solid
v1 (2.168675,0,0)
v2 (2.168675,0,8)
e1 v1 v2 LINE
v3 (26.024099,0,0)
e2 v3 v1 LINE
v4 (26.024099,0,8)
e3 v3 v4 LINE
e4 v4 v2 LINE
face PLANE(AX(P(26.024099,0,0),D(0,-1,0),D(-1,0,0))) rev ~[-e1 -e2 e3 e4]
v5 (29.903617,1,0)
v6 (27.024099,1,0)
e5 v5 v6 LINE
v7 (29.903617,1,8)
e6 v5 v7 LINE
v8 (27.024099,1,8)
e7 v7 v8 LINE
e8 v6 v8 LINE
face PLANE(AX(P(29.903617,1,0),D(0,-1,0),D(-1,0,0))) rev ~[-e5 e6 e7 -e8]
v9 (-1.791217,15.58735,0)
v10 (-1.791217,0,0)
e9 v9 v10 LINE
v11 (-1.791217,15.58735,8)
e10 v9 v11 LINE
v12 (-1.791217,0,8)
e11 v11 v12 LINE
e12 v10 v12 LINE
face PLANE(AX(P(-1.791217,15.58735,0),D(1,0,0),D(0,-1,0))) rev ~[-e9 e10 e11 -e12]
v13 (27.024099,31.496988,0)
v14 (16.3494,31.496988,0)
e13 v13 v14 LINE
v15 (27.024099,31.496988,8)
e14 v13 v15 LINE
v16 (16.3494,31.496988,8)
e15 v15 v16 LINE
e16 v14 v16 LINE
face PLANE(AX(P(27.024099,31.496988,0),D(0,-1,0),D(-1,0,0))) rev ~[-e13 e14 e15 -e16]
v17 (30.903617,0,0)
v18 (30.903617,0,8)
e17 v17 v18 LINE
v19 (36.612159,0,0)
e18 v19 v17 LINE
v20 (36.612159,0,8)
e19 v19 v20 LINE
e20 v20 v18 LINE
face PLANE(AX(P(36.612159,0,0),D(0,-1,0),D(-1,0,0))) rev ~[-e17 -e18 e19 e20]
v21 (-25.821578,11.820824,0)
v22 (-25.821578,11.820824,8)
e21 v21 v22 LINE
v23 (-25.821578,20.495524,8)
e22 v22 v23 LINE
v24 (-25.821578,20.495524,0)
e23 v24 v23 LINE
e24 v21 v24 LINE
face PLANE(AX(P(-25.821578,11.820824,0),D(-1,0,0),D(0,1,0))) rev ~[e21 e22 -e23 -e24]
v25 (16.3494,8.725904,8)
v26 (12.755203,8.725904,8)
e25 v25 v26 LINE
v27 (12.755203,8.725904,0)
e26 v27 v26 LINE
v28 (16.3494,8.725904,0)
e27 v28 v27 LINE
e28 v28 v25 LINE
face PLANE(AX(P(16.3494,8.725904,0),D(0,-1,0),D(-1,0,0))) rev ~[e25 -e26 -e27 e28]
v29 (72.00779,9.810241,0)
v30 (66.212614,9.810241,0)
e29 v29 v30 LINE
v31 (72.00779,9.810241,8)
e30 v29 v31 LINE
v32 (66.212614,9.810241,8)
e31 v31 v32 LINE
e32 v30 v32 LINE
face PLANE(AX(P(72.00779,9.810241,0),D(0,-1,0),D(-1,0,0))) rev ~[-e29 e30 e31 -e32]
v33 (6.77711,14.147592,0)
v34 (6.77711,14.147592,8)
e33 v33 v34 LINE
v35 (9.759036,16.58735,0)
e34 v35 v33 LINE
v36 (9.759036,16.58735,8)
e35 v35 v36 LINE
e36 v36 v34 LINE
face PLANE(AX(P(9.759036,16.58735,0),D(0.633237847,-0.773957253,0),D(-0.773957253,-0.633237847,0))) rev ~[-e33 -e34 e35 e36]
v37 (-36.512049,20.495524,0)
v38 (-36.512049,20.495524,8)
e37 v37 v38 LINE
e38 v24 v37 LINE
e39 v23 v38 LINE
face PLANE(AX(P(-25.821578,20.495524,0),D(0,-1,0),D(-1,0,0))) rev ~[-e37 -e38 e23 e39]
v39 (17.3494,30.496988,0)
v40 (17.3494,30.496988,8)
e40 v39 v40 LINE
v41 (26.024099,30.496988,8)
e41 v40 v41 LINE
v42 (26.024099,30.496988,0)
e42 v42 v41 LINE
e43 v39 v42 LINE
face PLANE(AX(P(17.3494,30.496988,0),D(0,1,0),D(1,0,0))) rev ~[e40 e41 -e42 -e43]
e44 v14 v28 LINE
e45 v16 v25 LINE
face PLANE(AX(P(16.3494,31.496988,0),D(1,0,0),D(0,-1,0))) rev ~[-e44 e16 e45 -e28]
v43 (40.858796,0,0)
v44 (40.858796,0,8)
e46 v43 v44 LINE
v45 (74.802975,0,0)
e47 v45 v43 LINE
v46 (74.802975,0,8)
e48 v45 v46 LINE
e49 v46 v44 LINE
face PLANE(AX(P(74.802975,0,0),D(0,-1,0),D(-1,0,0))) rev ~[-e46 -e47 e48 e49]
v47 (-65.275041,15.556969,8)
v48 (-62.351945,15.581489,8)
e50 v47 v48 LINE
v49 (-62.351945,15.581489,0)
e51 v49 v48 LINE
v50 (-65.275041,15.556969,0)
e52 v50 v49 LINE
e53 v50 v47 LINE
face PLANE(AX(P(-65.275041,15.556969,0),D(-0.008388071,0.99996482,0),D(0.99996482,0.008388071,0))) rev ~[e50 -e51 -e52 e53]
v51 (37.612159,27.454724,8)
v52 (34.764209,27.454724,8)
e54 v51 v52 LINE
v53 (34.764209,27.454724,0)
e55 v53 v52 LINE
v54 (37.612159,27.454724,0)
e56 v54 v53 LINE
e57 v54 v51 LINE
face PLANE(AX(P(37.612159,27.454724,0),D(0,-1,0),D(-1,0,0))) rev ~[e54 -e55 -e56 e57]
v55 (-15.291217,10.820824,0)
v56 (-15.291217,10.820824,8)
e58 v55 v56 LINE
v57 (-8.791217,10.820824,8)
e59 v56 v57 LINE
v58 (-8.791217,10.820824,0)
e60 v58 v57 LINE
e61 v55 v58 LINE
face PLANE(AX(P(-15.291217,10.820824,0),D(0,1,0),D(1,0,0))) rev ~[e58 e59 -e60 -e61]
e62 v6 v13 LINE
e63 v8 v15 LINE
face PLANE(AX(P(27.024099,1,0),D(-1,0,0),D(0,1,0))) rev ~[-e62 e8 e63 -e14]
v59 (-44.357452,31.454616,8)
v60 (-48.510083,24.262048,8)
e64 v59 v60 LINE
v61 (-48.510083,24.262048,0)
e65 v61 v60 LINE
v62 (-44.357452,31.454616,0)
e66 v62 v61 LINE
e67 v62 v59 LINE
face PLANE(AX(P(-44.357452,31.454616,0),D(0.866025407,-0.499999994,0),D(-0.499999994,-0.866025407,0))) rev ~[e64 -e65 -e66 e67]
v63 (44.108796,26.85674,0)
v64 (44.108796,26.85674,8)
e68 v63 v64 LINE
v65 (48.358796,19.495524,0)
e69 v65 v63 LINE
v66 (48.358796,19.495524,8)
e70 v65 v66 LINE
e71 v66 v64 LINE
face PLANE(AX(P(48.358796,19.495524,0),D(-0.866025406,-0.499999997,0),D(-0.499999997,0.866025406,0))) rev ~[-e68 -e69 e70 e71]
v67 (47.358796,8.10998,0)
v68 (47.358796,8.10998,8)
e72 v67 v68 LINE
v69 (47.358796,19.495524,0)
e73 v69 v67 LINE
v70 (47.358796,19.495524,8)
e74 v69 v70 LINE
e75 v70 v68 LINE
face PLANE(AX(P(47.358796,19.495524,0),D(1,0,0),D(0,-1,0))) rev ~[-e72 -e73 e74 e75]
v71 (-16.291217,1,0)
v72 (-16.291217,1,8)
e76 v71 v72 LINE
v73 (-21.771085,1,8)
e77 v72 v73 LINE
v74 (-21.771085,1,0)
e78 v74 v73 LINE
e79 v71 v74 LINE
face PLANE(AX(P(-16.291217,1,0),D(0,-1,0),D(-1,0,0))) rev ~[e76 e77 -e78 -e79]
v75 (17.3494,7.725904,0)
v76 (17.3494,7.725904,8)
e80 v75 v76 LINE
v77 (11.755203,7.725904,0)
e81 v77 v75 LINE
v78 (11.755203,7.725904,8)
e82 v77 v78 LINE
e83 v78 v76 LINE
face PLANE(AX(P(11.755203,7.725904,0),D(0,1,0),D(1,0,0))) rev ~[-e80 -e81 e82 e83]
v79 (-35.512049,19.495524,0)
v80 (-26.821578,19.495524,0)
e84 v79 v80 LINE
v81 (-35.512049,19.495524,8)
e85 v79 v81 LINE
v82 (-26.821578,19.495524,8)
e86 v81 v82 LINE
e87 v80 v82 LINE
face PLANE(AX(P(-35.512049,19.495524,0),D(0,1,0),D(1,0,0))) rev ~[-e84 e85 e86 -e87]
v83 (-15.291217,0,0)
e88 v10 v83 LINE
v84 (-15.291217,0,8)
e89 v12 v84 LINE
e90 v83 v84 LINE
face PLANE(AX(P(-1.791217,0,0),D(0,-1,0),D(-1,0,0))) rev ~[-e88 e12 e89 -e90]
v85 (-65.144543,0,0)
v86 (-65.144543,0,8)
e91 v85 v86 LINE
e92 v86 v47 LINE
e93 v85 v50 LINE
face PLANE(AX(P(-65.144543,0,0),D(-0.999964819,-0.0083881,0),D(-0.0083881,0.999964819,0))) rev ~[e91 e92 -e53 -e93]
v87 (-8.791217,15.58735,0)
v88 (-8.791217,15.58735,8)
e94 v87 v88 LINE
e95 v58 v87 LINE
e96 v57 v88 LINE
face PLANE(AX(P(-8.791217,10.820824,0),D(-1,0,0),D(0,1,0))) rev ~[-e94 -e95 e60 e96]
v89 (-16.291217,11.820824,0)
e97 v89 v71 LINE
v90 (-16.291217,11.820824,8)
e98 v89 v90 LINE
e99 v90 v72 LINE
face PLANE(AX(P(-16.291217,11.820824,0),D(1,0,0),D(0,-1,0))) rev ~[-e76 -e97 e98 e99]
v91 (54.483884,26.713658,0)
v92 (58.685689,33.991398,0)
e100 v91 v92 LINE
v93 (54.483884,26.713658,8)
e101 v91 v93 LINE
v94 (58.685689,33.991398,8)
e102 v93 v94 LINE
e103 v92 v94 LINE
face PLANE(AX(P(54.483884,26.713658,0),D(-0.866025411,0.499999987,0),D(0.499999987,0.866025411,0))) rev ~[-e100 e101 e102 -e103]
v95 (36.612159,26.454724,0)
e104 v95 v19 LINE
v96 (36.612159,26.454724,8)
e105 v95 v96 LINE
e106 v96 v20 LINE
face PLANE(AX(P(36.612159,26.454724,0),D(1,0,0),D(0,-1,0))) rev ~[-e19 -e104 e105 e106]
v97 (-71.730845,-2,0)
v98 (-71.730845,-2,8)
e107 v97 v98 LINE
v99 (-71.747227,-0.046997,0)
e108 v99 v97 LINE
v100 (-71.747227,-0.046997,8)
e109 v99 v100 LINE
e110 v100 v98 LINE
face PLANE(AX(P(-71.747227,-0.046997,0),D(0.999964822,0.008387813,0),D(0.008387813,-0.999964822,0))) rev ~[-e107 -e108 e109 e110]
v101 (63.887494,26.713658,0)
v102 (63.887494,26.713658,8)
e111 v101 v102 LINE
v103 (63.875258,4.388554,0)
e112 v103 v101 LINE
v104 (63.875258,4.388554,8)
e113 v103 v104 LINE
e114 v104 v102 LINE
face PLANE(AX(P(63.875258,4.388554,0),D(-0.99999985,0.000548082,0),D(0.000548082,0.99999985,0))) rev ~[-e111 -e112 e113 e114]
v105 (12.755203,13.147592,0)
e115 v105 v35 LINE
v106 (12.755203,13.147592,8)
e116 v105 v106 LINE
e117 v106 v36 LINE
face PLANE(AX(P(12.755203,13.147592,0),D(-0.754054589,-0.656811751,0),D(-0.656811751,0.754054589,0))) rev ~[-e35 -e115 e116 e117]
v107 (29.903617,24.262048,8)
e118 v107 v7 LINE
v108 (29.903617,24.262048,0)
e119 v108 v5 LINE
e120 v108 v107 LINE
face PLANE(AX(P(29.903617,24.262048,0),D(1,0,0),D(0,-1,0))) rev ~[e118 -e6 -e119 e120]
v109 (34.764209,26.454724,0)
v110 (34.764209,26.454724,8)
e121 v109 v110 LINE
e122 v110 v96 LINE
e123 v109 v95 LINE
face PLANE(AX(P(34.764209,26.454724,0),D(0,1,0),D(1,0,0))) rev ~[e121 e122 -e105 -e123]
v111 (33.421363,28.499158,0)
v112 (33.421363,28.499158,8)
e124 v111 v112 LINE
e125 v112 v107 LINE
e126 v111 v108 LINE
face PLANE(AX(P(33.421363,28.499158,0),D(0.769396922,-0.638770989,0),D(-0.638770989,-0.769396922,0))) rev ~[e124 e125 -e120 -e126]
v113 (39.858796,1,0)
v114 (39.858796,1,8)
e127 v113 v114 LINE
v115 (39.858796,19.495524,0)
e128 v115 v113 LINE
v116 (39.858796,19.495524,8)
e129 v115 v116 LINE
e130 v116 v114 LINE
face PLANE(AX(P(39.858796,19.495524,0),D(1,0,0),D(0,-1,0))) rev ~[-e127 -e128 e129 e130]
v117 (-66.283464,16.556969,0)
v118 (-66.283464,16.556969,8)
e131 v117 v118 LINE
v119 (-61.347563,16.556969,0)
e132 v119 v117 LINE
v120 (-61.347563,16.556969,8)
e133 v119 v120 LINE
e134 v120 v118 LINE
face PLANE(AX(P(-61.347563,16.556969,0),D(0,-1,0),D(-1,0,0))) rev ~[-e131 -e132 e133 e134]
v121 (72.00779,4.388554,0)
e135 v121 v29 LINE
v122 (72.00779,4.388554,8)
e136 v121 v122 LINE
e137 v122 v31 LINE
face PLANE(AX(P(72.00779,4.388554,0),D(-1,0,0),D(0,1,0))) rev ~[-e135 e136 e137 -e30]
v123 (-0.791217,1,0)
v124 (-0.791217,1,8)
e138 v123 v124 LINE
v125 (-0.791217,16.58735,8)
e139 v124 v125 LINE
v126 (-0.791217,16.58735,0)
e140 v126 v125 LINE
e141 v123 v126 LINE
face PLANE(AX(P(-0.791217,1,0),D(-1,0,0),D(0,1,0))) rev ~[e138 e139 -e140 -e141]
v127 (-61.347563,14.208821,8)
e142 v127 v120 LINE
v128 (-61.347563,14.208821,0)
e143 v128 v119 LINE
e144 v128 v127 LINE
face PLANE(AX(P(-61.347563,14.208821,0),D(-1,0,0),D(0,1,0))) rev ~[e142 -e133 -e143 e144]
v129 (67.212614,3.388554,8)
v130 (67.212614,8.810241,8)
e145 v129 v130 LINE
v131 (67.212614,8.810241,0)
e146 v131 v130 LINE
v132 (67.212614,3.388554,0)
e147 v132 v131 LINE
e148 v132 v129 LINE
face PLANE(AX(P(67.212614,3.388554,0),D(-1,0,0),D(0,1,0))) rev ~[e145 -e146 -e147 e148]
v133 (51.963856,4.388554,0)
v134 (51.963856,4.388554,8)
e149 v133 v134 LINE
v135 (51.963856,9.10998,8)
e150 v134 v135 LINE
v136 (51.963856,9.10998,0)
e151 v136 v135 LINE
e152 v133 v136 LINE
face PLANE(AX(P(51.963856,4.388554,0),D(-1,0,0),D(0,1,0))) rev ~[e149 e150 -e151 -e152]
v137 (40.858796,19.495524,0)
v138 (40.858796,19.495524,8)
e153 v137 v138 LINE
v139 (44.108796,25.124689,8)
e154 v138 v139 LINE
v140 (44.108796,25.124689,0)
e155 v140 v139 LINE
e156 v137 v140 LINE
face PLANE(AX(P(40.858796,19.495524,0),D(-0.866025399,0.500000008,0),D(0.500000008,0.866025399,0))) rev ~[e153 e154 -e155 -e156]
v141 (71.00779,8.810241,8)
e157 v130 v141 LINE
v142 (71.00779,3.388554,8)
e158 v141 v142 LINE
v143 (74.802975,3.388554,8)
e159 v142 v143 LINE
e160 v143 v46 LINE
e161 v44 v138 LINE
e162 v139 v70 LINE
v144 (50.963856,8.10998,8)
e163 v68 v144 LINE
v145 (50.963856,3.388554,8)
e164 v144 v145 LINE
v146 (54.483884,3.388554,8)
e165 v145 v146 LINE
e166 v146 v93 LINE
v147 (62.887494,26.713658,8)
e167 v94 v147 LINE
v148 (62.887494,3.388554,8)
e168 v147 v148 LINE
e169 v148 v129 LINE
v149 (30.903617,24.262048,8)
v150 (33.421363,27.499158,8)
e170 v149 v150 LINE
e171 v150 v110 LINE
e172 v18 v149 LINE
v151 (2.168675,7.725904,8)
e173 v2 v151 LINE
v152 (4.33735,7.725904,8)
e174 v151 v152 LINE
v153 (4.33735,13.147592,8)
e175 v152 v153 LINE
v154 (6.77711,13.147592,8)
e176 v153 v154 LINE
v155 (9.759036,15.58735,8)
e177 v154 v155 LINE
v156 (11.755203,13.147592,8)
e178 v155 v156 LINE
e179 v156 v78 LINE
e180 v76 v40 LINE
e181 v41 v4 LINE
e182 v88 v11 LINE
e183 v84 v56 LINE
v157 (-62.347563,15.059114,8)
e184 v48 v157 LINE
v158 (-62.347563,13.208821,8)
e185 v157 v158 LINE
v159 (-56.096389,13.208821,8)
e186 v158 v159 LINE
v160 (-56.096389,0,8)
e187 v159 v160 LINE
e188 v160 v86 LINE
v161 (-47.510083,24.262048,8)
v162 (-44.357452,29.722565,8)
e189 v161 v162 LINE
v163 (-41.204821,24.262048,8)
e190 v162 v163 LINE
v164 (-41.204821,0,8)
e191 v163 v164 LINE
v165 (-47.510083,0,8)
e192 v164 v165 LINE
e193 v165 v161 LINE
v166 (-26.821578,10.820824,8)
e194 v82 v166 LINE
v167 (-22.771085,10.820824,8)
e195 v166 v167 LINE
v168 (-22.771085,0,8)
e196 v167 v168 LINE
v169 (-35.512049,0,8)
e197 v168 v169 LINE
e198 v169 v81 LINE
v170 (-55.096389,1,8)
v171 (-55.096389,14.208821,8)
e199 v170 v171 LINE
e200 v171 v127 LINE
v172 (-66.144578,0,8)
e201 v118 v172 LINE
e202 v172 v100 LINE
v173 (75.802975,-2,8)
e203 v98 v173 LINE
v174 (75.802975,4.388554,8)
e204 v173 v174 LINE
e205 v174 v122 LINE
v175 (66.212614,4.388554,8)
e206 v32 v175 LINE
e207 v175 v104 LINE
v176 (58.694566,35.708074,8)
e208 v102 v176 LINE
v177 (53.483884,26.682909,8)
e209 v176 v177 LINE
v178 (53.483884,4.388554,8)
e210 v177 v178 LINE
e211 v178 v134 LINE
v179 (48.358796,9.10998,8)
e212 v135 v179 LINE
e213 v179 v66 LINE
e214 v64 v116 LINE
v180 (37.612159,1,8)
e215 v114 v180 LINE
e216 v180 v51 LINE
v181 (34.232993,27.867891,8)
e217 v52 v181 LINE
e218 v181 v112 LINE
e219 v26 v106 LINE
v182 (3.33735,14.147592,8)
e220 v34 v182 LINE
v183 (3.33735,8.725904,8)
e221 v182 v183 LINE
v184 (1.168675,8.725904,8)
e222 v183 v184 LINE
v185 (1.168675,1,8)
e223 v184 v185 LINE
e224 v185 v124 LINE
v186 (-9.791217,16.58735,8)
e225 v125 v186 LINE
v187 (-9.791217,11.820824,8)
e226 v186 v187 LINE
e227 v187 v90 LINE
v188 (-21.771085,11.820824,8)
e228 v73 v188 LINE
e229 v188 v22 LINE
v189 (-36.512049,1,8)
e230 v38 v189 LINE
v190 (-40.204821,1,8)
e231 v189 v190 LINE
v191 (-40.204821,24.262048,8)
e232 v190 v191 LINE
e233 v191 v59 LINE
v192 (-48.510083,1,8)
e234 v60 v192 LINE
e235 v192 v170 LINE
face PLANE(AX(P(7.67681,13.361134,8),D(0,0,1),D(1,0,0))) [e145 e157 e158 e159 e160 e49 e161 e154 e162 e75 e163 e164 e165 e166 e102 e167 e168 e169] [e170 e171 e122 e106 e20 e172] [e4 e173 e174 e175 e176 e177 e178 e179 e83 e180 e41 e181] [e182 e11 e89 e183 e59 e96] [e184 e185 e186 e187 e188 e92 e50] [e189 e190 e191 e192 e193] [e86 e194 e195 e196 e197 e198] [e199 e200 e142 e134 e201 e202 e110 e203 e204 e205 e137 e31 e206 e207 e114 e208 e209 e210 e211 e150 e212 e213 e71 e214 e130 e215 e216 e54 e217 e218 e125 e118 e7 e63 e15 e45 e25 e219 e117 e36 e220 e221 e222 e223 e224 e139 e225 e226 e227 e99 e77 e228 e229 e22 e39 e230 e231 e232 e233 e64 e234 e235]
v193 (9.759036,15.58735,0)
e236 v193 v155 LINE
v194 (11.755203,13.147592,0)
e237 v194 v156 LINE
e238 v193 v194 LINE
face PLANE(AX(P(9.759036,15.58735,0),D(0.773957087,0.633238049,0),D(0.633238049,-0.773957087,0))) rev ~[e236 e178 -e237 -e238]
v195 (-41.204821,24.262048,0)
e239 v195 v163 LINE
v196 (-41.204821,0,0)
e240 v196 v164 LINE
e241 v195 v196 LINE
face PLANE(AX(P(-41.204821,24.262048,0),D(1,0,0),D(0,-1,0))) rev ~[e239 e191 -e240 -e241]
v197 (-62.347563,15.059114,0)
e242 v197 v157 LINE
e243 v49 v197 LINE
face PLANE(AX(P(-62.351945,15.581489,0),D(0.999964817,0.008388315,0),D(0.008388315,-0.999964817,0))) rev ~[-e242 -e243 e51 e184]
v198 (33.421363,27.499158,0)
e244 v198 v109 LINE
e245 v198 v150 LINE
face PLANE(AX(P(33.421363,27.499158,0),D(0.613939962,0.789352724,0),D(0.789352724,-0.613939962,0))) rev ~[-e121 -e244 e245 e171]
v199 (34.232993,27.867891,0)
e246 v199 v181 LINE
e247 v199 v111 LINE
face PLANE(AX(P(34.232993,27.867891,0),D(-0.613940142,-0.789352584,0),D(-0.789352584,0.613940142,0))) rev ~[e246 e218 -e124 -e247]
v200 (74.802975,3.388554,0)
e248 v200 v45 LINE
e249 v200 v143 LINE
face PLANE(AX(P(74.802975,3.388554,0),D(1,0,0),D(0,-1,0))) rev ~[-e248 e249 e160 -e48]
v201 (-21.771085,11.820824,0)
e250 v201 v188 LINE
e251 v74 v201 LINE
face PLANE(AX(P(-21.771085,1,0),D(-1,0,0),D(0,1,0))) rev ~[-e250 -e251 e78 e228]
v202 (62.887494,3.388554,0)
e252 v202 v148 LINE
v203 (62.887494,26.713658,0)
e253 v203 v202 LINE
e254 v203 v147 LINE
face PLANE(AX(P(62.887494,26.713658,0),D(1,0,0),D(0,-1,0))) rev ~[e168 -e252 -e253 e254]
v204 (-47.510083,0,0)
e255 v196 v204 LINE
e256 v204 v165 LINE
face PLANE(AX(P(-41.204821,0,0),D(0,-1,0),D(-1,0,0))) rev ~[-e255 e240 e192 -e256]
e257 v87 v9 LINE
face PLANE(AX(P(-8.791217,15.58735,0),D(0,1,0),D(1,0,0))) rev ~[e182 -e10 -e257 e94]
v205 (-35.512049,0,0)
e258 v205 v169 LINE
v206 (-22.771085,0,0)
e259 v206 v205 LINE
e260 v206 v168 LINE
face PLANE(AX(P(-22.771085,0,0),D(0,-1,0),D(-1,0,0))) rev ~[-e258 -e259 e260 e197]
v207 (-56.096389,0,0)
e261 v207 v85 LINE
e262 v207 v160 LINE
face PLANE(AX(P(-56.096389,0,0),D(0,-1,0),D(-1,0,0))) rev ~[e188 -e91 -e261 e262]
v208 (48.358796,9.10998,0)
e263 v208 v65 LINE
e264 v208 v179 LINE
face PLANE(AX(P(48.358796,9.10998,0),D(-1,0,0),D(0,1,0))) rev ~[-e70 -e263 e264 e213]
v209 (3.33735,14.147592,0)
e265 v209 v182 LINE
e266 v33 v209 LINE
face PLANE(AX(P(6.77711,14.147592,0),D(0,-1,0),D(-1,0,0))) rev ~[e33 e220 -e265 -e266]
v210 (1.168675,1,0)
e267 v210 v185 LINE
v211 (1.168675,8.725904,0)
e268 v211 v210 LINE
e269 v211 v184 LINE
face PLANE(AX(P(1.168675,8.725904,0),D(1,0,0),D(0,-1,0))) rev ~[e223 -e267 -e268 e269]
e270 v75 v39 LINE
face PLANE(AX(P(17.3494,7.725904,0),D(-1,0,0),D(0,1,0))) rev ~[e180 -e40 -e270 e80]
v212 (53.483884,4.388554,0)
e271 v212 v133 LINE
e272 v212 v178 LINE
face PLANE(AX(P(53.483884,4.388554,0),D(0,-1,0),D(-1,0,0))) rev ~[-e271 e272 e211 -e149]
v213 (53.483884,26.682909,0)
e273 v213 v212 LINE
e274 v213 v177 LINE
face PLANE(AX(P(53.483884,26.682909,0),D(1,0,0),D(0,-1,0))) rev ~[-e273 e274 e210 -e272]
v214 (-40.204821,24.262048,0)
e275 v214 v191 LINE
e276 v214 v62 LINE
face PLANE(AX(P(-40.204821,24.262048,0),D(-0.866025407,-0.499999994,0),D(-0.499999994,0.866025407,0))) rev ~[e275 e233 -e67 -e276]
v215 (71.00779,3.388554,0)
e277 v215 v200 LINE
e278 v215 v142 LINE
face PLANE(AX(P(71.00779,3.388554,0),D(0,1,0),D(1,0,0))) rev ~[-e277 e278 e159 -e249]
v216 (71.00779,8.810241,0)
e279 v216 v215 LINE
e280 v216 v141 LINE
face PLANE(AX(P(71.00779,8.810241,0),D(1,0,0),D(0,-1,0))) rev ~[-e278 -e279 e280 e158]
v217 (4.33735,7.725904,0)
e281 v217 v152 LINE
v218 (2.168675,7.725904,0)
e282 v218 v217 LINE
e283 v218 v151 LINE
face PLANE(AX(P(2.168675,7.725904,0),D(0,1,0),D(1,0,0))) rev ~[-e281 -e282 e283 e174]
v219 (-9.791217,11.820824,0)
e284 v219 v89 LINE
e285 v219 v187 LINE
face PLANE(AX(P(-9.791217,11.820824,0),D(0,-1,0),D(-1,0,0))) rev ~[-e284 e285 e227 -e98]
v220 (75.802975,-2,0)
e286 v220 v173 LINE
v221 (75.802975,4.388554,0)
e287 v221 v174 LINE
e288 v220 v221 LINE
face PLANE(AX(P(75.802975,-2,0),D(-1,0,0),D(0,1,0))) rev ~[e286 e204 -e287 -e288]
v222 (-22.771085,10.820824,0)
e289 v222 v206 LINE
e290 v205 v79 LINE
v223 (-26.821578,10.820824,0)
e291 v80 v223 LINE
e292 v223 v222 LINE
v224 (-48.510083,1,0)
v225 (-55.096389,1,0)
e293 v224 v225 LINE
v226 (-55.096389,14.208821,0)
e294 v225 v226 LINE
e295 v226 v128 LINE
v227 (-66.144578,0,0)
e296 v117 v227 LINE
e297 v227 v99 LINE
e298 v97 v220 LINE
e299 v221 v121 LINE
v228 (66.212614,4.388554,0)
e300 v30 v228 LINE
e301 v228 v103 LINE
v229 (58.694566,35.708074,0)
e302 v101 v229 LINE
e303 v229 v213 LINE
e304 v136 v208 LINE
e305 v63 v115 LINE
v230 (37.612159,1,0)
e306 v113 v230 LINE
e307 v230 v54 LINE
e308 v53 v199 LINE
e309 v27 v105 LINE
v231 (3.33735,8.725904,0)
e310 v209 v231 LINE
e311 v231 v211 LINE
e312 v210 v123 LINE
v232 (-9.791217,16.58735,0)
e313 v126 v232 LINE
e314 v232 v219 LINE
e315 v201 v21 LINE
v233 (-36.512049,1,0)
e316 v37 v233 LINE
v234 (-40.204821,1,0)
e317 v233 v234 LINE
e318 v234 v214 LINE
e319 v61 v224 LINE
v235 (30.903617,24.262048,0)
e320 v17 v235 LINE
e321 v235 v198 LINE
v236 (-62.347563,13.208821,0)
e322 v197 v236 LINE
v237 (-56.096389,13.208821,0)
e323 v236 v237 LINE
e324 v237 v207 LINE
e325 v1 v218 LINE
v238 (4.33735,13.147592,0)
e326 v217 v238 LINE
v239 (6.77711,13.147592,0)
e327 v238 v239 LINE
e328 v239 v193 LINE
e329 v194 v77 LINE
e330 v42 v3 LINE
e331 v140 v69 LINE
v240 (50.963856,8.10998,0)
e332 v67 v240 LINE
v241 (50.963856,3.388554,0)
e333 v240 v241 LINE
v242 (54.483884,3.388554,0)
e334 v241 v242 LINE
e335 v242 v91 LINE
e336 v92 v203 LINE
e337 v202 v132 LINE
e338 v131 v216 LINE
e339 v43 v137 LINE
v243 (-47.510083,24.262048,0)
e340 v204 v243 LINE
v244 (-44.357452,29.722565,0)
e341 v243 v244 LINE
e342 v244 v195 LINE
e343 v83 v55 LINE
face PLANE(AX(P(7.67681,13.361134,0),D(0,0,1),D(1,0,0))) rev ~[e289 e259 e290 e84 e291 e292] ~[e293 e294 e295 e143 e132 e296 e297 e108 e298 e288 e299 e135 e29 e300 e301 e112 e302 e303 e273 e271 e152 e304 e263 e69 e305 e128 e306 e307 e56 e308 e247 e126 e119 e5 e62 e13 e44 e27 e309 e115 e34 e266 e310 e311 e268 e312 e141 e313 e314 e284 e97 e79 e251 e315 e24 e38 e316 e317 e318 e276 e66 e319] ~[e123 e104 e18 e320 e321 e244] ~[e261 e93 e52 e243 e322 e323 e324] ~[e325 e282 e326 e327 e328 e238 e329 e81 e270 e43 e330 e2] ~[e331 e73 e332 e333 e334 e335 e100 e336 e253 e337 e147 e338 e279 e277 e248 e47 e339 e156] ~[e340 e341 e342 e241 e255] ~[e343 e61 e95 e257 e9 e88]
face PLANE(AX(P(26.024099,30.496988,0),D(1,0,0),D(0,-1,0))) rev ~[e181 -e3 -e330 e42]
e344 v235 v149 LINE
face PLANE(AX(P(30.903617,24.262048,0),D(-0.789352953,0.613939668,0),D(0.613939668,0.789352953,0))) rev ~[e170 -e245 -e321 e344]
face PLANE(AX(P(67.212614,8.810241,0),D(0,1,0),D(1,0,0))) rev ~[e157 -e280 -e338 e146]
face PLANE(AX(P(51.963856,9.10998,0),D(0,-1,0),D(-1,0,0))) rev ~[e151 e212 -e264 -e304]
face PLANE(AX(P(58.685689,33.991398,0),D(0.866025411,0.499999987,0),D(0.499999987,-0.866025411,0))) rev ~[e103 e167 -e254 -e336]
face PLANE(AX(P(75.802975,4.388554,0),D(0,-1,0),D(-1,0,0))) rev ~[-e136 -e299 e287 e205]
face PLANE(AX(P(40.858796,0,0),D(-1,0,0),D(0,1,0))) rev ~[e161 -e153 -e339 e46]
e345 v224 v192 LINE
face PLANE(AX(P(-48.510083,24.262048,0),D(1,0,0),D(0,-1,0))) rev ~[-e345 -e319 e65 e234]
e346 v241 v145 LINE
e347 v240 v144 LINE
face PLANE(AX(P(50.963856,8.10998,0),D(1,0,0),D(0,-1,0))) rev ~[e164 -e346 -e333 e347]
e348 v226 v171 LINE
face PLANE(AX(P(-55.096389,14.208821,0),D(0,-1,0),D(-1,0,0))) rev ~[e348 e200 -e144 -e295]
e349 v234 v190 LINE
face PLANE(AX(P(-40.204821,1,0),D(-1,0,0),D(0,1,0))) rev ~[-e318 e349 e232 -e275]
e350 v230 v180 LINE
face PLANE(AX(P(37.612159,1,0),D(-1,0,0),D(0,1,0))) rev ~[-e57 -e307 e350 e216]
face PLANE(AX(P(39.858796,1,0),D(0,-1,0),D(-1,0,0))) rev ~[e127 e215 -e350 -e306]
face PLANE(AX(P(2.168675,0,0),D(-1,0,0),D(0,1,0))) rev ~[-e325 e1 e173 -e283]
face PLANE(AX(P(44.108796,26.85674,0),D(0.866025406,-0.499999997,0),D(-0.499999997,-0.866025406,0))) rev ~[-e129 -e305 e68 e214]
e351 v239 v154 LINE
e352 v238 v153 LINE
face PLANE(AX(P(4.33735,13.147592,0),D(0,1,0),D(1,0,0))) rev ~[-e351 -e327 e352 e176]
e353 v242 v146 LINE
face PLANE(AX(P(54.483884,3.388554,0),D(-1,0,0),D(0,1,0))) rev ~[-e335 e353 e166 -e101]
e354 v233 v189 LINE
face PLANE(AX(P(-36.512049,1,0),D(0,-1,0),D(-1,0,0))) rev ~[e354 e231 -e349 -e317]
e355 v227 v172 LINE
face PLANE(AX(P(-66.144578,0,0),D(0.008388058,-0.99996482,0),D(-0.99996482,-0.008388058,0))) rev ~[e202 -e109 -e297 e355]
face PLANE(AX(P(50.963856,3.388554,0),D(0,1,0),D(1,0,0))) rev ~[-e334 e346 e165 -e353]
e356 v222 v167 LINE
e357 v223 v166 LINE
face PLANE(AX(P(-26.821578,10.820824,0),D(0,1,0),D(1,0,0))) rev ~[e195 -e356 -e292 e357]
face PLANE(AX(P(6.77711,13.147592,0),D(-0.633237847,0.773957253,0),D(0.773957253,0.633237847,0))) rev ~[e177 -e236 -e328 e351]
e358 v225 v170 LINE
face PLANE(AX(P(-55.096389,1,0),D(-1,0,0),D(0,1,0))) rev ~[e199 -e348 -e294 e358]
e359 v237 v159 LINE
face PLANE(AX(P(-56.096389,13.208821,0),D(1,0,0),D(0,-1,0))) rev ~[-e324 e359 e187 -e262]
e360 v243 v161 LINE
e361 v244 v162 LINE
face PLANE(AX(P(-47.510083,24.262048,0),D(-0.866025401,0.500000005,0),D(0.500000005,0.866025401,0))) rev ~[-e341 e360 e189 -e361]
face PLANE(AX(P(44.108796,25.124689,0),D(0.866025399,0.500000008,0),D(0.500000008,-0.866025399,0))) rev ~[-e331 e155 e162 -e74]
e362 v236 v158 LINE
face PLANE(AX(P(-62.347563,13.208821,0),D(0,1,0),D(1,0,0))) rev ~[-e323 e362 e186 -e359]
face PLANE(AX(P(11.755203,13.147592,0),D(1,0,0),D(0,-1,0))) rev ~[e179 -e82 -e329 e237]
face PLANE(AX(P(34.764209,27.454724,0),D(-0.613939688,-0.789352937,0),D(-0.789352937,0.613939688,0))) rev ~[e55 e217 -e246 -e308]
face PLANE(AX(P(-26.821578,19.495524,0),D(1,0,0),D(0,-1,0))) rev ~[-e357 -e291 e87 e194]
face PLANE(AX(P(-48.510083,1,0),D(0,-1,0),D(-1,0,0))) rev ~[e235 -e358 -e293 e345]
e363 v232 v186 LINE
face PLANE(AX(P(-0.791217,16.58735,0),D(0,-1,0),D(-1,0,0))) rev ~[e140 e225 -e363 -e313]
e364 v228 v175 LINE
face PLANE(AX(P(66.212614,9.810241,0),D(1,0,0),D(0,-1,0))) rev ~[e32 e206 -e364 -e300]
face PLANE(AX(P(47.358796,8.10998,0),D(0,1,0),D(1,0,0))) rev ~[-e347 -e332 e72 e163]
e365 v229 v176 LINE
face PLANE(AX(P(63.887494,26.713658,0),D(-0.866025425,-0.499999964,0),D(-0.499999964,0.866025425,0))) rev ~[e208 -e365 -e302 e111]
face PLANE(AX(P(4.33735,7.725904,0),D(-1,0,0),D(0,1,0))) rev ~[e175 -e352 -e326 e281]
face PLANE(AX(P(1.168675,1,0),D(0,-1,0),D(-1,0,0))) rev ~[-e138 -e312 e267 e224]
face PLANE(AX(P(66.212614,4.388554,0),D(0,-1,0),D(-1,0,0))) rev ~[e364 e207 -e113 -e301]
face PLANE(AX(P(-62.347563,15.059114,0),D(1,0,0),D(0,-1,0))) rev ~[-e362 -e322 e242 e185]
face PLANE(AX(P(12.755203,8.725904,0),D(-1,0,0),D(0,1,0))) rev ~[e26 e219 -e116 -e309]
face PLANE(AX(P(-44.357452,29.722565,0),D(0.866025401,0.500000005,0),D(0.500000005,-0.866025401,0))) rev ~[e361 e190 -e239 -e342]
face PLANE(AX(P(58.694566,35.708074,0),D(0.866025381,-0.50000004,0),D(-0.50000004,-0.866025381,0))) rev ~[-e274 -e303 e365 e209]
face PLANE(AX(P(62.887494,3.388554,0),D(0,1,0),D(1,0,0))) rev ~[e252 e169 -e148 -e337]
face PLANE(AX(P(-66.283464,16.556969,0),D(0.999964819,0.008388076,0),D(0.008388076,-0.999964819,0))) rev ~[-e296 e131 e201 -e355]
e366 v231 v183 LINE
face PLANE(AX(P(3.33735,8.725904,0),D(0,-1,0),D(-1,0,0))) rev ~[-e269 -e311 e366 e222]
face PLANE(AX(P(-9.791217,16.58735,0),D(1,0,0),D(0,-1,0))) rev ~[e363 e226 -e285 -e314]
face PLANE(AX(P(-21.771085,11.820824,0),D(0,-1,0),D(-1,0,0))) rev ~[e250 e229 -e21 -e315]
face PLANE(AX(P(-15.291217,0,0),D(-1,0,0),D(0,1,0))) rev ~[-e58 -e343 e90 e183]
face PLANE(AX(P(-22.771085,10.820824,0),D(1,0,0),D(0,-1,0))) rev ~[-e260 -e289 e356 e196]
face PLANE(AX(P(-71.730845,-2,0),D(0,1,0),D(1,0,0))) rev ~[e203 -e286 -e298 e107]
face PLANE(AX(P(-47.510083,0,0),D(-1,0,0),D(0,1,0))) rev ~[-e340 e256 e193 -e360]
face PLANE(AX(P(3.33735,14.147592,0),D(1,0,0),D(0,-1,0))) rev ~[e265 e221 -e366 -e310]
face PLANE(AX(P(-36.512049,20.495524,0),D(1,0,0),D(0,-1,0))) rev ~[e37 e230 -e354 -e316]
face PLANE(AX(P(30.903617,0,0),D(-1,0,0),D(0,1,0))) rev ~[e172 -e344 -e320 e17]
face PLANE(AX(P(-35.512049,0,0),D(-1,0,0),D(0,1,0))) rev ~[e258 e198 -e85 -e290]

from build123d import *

# Parameters (mm, degrees)
F1_DEPTH = 8


with BuildPart() as f1:
    # F0 (on Top) → F1 (new body)
    with BuildSketch(Plane.XY):
        Polygon((-8.791217, 10.820824), (-8.791217, 15.58735), (-1.791217, 15.58735), (-1.791217, 0), (0, 0), (2.168675, 0), (2.168675, 7.725904), (4.33735, 7.725904), (4.33735, 13.147592), (6.77711, 13.147592), (9.759036, 15.58735), (11.755203, 13.147592), (11.755203, 7.725904), (17.3494, 7.725904), (17.3494, 30.496988), (26.024099, 30.496988), (26.024099, 7.725904), (26.024099, 0), (30.903617, 0), (30.903617, 19.495524), (30.903617, 24.262048), (33.421363, 27.499158), (34.764209, 26.454724), (36.612159, 26.454724), (36.612159, 24.262048), (36.612159, 0), (40.858796, 0), (40.858796, 19.495524), (44.108796, 25.124689), (47.358796, 19.495524), (47.358796, 8.10998), (50.963856, 8.10998), (50.963856, 3.388554), (54.483884, 3.388554), (54.483884, 26.713658), (58.685689, 33.991398), (62.887494, 26.713658), (62.887494, 3.388554), (67.212614, 3.388554), (67.212614, 8.810241), (71.00779, 8.810241), (71.00779, 3.388554), (74.802975, 3.388554), (74.802975, 0), (75.802975, 0), (75.802975, 4.388554), (74.802975, 4.388554), (72.00779, 4.388554), (72.00779, 9.810241), (68.572836, 9.810241), (66.212614, 9.810241), (66.212614, 6.689354), (66.212614, 4.388554), (64.699309, 4.388554), (63.875258, 4.388554), (63.887494, 26.713658), (58.694566, 35.708074), (53.483884, 26.682909), (53.483884, 4.388554), (51.963856, 4.388554), (51.963856, 9.10998), (48.358796, 9.10998), (48.358796, 19.495524), (44.108796, 26.85674), (39.858796, 19.495524), (39.858796, 1), (37.612159, 1), (37.612159, 27.454724), (34.764209, 27.454724), (34.232993, 27.867891), (33.421363, 28.499158), (29.903617, 24.262048), (29.903617, 1), (27.024099, 1), (27.024099, 31.496988), (16.3494, 31.496988), (16.3494, 8.725904), (12.755203, 8.725904), (12.755203, 13.147592), (9.759036, 16.58735), (6.77711, 14.147592), (4.33735, 14.147592), (3.33735, 14.147592), (3.33735, 8.725904), (1.168675, 8.725904), (1.168675, 1), (-0.791217, 1), (-0.791217, 16.58735), (-9.791217, 16.58735), (-9.791217, 11.820824), (-16.291217, 11.820824), (-16.291217, 1), (-21.771085, 1), (-21.771085, 11.820824), (-25.821578, 11.820824), (-25.821578, 20.495524), (-30.47494, 20.495524), (-36.512049, 20.495524), (-36.512049, 1), (-40.204821, 1), (-40.204821, 24.262048), (-44.357452, 31.454616), (-48.510083, 24.262048), (-48.510083, 1), (-55.096389, 1), (-55.096389, 14.208821), (-61.347563, 14.208821), (-61.347563, 16.556969), (-66.283464, 16.556969), (-66.144578, 0), (-65.144543, 0), (-65.275041, 15.556969), (-62.351945, 15.581489), (-62.347563, 15.059114), (-62.347563, 13.208821), (-56.096389, 13.208821), (-56.096389, 0), (-51.847431, 0), (-47.510083, 0), (-47.510083, 24.262048), (-44.357452, 29.722565), (-41.204821, 24.262048), (-41.204821, 0), (-35.512049, 0), (-35.512049, 19.495524), (-26.821578, 19.495524), (-26.821578, 10.820824), (-22.771085, 10.820824), (-22.771085, 0), (-17.891567, 0), (-15.291217, 0), (-15.291217, 1), (-15.291217, 10.820824), align=None)
        Polygon((0, 0), (-1.791217, 0), (-15.291217, 0), (-17.891567, 0), (-22.771085, 0), (-35.512049, 0), (-41.204821, 0), (-47.510083, 0), (-51.847431, 0), (-56.096389, 0), (-65.144543, 0), (-66.144578, 0), (-71.747227, -0.046997), (-71.730845, -2), (74.802975, -2), (75.802975, -2), (75.802975, 0), (74.802975, 0), (40.858796, 0), (36.612159, 0), (30.903617, 0), (26.024099, 0), (2.168675, 0), align=None)
    extrude(amount=F1_DEPTH)


solid = f1.part
